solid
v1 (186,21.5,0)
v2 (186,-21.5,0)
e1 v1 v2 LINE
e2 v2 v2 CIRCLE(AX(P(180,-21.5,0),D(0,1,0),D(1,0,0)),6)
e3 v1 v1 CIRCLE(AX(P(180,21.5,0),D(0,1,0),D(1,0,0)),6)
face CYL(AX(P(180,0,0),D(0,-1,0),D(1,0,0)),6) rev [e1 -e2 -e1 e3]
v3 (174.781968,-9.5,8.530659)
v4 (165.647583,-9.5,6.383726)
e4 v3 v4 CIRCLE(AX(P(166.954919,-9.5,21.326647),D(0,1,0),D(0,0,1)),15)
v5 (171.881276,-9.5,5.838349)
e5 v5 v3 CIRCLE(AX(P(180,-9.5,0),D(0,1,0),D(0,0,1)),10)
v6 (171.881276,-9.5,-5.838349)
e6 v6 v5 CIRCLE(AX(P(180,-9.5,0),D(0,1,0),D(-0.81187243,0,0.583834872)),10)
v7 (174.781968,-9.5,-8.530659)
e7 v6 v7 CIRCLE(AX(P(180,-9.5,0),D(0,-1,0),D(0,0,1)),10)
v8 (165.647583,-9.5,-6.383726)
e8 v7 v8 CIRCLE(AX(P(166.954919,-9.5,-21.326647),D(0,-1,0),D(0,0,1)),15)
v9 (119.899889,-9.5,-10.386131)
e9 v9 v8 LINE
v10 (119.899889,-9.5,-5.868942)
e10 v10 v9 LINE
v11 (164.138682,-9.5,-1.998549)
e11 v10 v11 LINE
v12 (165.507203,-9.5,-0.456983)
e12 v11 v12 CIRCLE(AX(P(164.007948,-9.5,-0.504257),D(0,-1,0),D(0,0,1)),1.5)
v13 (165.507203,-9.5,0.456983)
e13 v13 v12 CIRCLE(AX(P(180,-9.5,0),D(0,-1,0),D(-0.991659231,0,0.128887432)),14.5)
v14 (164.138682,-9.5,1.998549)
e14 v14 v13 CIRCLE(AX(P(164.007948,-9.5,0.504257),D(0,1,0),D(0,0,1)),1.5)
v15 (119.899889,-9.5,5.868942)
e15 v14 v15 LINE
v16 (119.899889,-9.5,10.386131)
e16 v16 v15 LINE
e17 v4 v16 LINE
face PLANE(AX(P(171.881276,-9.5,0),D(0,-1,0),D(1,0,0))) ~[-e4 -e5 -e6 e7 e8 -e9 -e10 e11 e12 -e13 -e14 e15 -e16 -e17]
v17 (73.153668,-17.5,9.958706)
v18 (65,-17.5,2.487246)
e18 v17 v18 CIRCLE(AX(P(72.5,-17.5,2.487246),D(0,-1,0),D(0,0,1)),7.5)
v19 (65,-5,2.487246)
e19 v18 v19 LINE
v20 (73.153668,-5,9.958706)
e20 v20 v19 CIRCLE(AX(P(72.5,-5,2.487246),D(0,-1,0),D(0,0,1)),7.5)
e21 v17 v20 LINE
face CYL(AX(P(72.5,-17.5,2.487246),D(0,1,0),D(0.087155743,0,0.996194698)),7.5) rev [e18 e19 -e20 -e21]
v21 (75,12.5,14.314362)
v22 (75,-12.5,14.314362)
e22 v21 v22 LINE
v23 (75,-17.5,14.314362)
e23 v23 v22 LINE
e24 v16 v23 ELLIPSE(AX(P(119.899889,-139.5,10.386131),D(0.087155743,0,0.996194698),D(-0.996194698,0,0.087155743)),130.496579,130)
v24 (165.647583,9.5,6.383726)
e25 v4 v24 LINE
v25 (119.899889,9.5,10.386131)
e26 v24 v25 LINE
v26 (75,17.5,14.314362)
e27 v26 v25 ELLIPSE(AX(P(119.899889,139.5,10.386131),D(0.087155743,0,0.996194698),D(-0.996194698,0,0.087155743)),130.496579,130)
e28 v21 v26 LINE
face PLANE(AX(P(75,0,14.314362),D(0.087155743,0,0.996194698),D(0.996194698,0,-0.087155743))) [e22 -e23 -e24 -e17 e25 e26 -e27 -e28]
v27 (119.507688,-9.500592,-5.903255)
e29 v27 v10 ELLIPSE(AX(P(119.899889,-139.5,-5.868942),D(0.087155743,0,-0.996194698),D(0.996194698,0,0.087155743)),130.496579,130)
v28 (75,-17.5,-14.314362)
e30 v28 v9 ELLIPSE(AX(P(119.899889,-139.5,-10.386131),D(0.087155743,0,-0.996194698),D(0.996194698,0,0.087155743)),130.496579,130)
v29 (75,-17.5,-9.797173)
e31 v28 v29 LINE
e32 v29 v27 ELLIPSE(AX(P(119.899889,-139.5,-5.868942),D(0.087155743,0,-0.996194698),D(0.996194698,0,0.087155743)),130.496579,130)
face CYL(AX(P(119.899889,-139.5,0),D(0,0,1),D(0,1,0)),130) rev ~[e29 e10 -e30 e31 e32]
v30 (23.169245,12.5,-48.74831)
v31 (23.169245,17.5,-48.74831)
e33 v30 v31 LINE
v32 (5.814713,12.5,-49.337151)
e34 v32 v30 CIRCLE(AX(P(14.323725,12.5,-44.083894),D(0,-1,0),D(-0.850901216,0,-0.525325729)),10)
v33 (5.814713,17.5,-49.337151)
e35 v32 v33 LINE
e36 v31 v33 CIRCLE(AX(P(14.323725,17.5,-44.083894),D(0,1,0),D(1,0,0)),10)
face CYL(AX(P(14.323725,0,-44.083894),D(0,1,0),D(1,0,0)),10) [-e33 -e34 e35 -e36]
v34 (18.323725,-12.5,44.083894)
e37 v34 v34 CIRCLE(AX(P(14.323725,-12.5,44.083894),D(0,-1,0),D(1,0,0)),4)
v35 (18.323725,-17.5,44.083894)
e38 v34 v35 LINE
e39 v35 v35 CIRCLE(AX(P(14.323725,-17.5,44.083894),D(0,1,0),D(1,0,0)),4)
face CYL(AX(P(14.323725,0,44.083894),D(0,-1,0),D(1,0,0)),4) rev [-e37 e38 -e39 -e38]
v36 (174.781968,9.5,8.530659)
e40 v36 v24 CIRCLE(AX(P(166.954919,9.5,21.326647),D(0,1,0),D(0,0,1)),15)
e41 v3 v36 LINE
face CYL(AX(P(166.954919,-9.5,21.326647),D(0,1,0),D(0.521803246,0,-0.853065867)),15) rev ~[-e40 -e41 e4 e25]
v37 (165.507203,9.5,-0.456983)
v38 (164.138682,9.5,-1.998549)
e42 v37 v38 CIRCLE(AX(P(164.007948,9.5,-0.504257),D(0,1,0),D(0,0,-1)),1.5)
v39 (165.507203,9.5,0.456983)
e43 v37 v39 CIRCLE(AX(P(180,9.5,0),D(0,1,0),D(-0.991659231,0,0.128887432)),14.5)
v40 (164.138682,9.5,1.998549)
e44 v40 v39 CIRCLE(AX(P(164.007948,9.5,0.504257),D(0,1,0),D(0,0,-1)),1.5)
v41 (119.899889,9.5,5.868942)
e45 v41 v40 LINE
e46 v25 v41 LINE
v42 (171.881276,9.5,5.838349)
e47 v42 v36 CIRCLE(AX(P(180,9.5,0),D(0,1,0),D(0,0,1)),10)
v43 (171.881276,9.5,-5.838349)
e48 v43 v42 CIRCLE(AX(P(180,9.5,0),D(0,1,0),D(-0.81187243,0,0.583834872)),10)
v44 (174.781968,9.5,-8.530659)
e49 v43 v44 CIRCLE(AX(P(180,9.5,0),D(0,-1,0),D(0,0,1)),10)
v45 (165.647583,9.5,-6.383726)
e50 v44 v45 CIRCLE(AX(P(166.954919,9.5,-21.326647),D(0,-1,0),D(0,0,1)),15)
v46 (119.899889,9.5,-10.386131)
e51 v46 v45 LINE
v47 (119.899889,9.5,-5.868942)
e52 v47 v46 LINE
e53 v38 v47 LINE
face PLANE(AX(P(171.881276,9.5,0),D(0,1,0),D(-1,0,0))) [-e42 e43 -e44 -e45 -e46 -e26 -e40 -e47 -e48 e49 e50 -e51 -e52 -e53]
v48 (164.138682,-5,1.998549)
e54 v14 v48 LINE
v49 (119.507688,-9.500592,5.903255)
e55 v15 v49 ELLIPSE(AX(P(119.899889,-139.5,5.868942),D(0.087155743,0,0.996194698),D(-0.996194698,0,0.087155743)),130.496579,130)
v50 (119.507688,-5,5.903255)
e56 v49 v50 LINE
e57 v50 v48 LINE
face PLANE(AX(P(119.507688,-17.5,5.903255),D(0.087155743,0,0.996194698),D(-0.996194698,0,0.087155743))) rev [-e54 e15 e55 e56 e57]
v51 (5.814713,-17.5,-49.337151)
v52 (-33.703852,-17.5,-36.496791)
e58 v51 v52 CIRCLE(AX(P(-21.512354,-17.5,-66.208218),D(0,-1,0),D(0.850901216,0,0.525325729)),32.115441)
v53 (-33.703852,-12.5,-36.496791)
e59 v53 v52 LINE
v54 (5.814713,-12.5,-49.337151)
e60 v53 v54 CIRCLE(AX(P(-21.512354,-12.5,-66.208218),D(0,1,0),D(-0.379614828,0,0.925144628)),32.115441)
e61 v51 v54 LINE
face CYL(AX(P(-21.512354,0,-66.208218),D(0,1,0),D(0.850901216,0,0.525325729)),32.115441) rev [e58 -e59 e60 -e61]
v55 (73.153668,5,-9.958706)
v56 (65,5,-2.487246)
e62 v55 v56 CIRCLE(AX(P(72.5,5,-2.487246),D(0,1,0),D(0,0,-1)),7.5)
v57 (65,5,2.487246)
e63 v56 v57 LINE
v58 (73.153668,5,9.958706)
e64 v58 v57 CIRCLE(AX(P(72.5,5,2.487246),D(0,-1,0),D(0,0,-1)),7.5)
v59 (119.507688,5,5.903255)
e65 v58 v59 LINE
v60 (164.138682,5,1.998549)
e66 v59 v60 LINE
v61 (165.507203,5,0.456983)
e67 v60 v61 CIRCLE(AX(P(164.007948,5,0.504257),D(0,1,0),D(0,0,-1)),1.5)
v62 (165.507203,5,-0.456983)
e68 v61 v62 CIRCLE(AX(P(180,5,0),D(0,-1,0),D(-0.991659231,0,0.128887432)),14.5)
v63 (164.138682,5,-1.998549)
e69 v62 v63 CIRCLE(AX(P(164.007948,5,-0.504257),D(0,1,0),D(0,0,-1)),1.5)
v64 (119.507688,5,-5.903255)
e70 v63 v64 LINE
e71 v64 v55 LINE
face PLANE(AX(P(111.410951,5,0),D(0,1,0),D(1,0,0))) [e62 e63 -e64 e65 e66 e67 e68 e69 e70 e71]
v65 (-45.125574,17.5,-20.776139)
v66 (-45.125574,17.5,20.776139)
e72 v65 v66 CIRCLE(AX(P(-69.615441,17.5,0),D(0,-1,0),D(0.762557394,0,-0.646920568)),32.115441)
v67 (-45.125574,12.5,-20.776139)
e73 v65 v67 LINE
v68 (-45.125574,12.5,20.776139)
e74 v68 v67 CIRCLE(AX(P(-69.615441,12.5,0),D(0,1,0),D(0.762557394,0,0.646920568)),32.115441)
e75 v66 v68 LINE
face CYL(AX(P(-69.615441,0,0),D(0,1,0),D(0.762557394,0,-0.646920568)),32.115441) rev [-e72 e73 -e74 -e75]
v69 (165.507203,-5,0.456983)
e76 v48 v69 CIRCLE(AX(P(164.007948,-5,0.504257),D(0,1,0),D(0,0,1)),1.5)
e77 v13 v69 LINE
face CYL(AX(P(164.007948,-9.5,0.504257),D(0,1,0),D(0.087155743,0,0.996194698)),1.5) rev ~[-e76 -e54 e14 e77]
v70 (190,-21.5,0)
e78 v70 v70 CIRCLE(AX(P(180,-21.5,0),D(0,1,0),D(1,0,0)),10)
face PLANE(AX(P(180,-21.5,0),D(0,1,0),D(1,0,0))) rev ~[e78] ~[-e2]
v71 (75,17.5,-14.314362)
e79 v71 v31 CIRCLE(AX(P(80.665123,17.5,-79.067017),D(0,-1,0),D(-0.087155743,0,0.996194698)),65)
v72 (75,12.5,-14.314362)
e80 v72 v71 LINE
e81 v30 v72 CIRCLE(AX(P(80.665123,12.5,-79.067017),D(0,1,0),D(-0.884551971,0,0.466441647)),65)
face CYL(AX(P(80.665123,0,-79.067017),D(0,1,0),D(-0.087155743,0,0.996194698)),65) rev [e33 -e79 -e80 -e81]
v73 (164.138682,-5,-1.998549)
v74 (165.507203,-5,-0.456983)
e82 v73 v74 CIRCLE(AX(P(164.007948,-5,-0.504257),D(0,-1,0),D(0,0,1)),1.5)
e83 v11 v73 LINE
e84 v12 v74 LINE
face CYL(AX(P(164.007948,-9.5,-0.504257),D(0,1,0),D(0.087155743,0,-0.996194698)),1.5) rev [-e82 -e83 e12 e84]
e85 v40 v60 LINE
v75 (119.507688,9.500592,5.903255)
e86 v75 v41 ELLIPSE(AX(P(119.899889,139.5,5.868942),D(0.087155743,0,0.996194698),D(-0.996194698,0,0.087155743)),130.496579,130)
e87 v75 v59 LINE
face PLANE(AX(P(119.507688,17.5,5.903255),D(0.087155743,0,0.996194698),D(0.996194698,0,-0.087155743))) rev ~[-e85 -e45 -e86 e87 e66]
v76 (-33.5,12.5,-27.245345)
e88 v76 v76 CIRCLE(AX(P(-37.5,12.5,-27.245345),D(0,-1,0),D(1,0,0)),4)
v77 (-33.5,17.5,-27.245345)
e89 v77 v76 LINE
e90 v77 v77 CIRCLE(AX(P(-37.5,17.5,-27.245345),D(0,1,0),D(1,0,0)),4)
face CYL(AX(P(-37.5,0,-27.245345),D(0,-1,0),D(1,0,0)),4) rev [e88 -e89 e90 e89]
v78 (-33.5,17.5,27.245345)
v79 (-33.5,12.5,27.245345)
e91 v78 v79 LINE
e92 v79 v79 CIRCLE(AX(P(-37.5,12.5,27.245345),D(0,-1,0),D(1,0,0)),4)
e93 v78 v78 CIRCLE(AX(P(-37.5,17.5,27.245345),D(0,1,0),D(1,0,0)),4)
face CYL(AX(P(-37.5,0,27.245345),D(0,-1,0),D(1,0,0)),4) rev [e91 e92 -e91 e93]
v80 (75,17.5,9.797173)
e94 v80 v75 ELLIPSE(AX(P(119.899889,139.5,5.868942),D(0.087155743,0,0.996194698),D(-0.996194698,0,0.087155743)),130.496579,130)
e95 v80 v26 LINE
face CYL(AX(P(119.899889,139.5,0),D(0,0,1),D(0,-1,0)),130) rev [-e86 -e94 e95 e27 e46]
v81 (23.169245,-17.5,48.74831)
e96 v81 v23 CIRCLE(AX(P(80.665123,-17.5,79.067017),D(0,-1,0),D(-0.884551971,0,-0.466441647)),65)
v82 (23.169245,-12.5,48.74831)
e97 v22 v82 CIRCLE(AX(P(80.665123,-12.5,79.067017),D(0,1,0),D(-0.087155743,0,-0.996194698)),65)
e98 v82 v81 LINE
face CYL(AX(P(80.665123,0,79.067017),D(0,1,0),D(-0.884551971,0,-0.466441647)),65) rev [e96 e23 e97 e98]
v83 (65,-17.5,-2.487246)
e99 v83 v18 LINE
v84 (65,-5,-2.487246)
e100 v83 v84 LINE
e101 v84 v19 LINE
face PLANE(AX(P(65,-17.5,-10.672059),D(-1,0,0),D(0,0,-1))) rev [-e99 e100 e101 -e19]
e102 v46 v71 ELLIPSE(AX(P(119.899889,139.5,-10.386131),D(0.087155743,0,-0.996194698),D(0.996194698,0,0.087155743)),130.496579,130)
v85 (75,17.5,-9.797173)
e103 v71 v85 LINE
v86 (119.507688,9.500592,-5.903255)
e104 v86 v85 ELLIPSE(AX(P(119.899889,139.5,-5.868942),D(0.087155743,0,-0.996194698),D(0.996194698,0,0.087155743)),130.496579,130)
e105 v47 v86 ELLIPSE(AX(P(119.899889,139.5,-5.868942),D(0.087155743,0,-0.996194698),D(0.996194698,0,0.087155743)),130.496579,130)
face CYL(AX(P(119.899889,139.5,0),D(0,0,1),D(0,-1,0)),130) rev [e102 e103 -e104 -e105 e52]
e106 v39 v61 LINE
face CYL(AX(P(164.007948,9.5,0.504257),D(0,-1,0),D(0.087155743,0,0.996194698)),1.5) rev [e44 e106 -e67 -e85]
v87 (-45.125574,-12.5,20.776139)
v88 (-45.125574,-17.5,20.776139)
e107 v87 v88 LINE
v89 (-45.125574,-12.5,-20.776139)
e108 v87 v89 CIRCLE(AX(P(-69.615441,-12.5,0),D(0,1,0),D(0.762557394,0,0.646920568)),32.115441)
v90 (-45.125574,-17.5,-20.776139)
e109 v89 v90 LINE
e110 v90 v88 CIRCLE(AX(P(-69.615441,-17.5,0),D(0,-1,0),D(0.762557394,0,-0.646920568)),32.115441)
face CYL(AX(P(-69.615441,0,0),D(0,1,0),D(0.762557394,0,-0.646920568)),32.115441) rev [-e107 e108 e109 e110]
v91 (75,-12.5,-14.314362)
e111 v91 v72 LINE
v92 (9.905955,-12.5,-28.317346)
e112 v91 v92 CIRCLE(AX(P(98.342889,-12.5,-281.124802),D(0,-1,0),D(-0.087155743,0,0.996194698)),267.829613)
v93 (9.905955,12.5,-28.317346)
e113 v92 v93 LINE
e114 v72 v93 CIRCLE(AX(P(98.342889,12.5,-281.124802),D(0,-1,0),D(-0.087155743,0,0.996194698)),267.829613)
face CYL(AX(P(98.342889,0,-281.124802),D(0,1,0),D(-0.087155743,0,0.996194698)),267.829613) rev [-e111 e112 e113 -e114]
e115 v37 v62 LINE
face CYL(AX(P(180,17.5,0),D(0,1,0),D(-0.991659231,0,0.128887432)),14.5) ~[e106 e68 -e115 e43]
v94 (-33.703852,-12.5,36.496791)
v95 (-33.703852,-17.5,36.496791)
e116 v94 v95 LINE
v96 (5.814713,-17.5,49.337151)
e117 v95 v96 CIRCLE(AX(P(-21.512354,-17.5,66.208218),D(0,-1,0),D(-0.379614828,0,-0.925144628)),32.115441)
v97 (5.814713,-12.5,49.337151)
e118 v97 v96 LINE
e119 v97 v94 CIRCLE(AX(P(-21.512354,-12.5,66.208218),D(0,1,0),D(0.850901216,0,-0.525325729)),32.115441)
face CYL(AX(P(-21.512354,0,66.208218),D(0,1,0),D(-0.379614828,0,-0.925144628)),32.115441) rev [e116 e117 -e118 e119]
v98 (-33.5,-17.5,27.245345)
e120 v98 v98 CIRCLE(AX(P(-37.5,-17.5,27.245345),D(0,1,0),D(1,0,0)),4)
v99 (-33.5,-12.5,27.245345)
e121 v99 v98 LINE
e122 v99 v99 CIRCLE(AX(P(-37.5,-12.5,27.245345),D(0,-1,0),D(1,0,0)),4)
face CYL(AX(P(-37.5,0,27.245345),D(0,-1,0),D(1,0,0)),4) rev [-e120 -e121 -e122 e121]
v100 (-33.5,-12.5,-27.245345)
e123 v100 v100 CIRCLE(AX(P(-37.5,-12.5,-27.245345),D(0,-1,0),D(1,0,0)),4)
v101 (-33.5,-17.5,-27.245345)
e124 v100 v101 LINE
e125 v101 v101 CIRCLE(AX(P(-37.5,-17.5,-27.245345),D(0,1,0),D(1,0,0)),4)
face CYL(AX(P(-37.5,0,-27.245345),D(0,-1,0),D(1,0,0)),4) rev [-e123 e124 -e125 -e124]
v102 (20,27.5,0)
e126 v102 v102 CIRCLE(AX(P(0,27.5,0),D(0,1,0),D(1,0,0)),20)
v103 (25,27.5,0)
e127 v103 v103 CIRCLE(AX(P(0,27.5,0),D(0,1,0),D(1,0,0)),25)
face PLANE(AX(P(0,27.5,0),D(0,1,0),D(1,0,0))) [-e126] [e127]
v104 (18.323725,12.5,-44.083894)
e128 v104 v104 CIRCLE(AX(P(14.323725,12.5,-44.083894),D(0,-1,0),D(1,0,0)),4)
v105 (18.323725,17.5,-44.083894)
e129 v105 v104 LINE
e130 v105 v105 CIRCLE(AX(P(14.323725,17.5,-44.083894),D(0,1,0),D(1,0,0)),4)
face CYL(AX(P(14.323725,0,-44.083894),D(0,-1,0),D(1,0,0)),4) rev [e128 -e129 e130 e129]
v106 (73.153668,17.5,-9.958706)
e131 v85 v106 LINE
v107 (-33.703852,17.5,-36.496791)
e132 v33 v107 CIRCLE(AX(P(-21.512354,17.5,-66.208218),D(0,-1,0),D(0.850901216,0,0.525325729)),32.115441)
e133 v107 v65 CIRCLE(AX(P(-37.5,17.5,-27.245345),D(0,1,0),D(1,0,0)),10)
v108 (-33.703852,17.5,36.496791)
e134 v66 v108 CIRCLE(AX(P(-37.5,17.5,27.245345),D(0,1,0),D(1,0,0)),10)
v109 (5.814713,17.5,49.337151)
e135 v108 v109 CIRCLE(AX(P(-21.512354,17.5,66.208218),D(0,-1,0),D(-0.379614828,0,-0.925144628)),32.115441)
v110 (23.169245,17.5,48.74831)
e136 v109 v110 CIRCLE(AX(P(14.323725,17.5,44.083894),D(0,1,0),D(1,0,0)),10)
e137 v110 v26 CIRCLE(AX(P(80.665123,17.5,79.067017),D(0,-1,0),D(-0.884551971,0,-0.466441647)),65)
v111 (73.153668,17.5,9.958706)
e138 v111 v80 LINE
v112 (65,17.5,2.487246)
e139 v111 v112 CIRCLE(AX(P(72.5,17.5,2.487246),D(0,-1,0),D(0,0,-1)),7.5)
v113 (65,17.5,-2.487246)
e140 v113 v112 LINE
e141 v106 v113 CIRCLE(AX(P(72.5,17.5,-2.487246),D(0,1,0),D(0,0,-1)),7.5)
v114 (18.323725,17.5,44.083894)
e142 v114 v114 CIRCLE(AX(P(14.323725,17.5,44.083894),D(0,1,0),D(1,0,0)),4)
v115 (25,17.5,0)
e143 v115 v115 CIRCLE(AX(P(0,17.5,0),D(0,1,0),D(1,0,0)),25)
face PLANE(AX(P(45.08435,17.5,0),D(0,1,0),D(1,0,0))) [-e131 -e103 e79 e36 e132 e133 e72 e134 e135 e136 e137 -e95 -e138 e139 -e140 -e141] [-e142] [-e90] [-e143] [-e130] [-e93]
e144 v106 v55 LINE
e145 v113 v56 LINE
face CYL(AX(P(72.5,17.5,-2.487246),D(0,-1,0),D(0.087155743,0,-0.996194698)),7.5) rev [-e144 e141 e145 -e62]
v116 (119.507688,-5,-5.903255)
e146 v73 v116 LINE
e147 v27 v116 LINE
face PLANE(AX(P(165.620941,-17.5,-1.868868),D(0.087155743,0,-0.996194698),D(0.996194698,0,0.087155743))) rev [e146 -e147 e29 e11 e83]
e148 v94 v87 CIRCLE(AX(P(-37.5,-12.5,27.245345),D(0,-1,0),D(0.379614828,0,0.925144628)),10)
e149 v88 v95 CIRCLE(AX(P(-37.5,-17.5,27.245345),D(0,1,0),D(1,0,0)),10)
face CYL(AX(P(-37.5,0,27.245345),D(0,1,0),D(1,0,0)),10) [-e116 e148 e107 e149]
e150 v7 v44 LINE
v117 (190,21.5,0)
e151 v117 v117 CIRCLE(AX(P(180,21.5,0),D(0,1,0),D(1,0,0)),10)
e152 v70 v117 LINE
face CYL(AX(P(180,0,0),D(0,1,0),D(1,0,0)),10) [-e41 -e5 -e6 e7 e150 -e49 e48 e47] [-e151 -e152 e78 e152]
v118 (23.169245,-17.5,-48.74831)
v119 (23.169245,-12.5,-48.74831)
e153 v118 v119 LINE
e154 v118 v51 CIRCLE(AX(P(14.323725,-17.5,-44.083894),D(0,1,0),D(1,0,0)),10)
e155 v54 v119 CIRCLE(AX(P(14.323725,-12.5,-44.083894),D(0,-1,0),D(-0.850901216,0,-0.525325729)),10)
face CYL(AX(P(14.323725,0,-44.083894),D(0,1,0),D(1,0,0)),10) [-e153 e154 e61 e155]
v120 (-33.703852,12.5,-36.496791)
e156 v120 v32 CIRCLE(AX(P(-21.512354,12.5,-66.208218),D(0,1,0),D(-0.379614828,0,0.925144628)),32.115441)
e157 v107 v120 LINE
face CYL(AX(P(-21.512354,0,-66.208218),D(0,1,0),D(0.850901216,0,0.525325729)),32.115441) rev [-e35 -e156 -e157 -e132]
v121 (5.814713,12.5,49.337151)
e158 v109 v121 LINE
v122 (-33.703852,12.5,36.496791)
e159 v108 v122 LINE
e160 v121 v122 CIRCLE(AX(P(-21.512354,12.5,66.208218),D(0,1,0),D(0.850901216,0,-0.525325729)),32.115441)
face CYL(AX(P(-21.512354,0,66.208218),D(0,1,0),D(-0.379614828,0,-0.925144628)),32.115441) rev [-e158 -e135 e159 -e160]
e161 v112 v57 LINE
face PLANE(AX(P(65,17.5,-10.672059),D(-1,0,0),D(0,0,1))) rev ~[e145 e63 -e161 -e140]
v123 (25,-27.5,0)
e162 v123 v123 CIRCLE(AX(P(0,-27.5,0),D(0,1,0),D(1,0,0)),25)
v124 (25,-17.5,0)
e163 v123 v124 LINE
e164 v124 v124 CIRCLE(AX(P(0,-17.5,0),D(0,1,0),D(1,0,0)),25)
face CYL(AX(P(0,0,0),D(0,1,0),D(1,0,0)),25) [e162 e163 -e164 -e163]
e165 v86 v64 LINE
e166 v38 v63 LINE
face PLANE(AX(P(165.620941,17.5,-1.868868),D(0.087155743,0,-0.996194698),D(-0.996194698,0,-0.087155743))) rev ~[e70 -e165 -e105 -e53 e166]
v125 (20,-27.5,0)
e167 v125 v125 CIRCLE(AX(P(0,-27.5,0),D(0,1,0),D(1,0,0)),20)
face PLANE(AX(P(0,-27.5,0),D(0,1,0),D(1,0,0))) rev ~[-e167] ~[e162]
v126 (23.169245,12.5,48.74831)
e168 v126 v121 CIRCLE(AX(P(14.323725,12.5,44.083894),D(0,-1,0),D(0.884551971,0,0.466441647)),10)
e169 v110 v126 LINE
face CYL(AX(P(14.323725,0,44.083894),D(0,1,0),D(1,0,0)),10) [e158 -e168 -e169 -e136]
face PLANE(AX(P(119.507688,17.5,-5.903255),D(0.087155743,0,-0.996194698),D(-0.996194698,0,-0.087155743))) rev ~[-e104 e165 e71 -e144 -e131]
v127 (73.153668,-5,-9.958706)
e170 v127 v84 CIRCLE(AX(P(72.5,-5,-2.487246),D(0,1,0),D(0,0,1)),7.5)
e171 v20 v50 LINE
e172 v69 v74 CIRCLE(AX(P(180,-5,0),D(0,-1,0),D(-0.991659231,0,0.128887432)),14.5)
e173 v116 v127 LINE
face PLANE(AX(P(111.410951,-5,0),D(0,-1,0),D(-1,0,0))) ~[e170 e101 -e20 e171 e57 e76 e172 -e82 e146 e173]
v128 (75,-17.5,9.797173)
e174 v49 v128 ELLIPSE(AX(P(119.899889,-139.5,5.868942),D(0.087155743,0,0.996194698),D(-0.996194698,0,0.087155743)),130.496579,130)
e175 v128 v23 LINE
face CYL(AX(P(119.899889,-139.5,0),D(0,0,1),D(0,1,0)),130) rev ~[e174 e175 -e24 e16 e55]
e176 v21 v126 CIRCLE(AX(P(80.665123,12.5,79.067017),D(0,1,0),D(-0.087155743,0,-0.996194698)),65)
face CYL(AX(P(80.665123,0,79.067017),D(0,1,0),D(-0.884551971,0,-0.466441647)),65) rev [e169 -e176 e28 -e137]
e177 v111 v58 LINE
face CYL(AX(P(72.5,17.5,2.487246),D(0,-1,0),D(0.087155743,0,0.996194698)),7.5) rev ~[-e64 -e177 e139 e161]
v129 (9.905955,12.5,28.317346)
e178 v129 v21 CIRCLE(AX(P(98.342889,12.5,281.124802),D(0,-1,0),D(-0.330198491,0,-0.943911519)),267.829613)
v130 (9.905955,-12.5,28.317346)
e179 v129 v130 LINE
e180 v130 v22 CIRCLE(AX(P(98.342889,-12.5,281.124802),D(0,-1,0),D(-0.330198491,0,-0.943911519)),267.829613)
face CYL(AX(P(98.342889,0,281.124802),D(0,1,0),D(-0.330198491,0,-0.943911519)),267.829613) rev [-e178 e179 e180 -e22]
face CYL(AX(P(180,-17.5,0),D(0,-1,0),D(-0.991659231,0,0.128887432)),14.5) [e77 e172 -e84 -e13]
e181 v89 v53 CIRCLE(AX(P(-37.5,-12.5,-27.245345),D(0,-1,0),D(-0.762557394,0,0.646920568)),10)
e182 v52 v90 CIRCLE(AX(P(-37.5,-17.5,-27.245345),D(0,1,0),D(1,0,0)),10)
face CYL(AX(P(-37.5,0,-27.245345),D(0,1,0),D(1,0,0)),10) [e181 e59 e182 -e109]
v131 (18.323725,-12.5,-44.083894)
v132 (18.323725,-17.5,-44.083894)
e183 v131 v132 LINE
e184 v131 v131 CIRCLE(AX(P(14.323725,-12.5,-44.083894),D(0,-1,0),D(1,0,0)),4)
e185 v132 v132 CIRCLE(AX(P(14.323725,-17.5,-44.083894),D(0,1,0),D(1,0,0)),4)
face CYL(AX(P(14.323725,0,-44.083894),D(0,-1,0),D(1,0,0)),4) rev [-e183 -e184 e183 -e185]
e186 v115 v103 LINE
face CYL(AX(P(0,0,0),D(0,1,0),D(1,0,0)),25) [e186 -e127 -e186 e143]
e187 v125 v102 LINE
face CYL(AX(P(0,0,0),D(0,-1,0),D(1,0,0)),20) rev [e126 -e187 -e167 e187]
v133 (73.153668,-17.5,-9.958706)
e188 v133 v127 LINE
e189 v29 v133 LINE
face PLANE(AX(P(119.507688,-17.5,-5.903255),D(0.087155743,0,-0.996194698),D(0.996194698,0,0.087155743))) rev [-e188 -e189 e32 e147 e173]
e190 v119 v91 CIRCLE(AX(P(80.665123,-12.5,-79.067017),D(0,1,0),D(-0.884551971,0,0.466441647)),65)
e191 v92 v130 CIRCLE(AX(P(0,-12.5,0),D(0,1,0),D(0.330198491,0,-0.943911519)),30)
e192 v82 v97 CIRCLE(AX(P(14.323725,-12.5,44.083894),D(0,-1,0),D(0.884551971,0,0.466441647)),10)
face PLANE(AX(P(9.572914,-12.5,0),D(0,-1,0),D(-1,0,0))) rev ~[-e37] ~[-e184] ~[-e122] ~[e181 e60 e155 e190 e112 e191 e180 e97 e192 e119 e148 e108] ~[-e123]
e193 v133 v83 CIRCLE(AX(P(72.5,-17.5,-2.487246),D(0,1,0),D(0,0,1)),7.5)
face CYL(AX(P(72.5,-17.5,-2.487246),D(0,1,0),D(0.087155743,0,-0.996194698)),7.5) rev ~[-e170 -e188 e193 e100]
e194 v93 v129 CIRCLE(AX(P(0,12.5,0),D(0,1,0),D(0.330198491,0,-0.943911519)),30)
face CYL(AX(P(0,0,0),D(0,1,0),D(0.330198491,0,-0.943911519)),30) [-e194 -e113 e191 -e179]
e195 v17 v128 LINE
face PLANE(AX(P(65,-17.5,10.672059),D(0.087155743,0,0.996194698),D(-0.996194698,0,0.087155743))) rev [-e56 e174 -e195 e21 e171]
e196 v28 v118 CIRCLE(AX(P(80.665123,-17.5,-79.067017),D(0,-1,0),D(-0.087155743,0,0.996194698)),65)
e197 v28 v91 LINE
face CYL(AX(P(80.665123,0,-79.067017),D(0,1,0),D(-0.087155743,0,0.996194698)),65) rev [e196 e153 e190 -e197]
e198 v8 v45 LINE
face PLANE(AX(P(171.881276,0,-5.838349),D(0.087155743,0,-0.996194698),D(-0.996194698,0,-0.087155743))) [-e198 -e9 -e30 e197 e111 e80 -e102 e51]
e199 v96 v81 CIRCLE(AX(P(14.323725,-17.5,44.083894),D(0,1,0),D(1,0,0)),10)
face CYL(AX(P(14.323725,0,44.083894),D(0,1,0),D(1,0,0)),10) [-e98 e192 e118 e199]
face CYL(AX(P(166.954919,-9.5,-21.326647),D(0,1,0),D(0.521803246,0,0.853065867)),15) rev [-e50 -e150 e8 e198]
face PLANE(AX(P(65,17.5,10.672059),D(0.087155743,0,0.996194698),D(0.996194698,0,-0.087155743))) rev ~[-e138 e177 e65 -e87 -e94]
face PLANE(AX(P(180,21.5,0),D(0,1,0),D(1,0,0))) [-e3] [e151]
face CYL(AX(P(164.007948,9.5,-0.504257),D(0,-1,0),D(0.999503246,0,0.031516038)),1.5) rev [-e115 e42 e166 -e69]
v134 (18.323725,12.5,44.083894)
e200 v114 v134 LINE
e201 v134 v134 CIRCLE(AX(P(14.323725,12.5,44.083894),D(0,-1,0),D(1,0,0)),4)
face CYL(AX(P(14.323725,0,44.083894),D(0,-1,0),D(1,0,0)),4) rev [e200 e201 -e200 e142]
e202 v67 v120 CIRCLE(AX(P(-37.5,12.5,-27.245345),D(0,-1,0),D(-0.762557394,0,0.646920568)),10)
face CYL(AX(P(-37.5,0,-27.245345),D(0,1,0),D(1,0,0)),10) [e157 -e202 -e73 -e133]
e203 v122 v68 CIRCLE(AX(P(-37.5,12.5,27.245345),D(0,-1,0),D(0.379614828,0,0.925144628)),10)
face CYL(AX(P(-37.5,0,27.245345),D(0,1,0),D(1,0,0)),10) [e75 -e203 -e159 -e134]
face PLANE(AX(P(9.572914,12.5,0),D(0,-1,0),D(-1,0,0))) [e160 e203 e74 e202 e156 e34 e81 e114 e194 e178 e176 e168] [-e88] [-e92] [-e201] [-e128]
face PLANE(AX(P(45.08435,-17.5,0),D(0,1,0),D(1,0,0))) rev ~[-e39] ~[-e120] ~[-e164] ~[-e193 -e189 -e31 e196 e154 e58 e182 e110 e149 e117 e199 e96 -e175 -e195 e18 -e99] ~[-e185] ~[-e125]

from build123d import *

# Parameters (mm, degrees)
SKETCH1_R           = 25
SKETCH1_R_2         = 10
SKETCH1_R_3         = 4
SKETCH1_R_4         = 20
BOSS_EXTRUDE1_DEPTH = 17.5
SKETCH1_4_R         = 25
SKETCH1_4_R_2       = 20
BOSS_EXTRUDE2_DEPTH = 27.5
SKETCH2_R           = 20
CUT_EXTRUDE1_DEPTH  = 12.5
CUT_EXTRUDE2_DEPTH  = 55.083893922
SKETCH1_5_R         = 10
SKETCH1_5_R_2       = 6
BOSS_EXTRUDE3_DEPTH = 21.5
FILLET3_R           = 15
CUT_EXTRUDE3_DEPTH  = 12.5
FILLET1_R           = 7.5
FILLET2_R           = 1.5


with BuildPart() as part:
    # Sketch1 → Boss-Extrude1 (new body, symmetric)
    with BuildSketch(Plane(origin=(0, 0, 0), x_dir=(1, 0, 0), z_dir=(0, 1, 0))):
        with BuildLine():
            ThreePointArc((23.169245136, -48.74831039), (44.696355929, -24.926018406), (75, -14.314362055))
            Line((75, -14.314362055), (171.881275704, -5.838348723))
            ThreePointArc((171.881275704, -5.838348723), (170, 0), (171.881275704, 5.838348723))
            Line((171.881275704, 5.838348723), (75, 14.314362055))
            ThreePointArc((75, 14.314362055), (44.696355929, 24.926018406), (23.169245136, 48.74831039))
            ThreePointArc((23.169245136, 48.74831039), (24.030815541, 46.486476164), (24.323725422, 44.083893922))
            ThreePointArc((24.323725422, 44.083893922), (11.593351964, 34.463859578), (5.814713266, 49.337151209))
            ThreePointArc((5.814713266, 49.337151209), (-11.588137289, 35.664619361), (-33.70385172, 36.496791078))
            ThreePointArc((-33.70385172, 36.496791078), (-29.194535449, 32.814838368), (-27.5, 27.2453448))
            ThreePointArc((-27.5, 27.2453448), (-34.054404214, 17.857700278), (-45.125573936, 20.776139119))
            ThreePointArc((-45.125573936, 20.776139119), (-37.5, 0), (-45.125573936, -20.776139119))
            ThreePointArc((-45.125573936, -20.776139119), (-34.054404214, -17.857700278), (-27.5, -27.2453448))
            ThreePointArc((-27.5, -27.2453448), (-29.194535449, -32.814838368), (-33.70385172, -36.496791078))
            ThreePointArc((-33.70385172, -36.496791078), (-11.588137289, -35.664619361), (5.814713266, -49.337151209))
            ThreePointArc((5.814713266, -49.337151209), (11.593351964, -34.463859578), (24.323725422, -44.083893922))
            ThreePointArc((24.323725422, -44.083893922), (24.030815541, -46.486476164), (23.169245136, -48.74831039))
        make_face()
        Circle(SKETCH1_R, mode=Mode.SUBTRACT)
        with Locations((14.323725422, 44.083893922)):
            Circle(SKETCH1_R_2)
        with Locations((14.323725422, 44.083893922)):
            Circle(SKETCH1_R_3, mode=Mode.SUBTRACT)
        with Locations((-37.5, 27.2453448)):
            Circle(SKETCH1_R_2)
        with Locations((-37.5, 27.2453448)):
            Circle(SKETCH1_R_3, mode=Mode.SUBTRACT)
        with Locations((-37.5, -27.2453448)):
            Circle(SKETCH1_R_2)
        with Locations((-37.5, -27.2453448)):
            Circle(SKETCH1_R_3, mode=Mode.SUBTRACT)
        with Locations((14.323725422, -44.083893922)):
            Circle(SKETCH1_R_2)
        with Locations((14.323725422, -44.083893922)):
            Circle(SKETCH1_R_3, mode=Mode.SUBTRACT)
        Circle(SKETCH1_R)
        Circle(SKETCH1_R_4, mode=Mode.SUBTRACT)
    extrude(amount=BOSS_EXTRUDE1_DEPTH, both=True)

    # Sketch1_4 → Boss-Extrude2 (add, symmetric)
    with BuildSketch(Plane(origin=(0, 0, 0), x_dir=(1, 0, 0), z_dir=(0, 1, 0))):
        Circle(SKETCH1_4_R)
        Circle(SKETCH1_4_R_2, mode=Mode.SUBTRACT)
    extrude(amount=BOSS_EXTRUDE2_DEPTH, both=True)

    # Sketch2 → Cut-Extrude1 (cut, symmetric)
    with BuildSketch(Plane(origin=(0, 0, 0), x_dir=(1, 0, 0), z_dir=(0, 1, 0))):
        Circle(SKETCH2_R)
        with BuildLine():
            ThreePointArc((9.905954739, 28.31734558), (-30, 0), (9.905954739, -28.31734558))
            ThreePointArc((9.905954739, -28.31734558), (42.01613595, -19.285159783), (75, -14.314362055))
            ThreePointArc((75, -14.314362055), (44.696355929, -24.926018406), (23.169245136, -48.74831039))
            ThreePointArc((23.169245136, -48.74831039), (14.662831175, -54.078142632), (5.814713266, -49.337151209))
            ThreePointArc((5.814713266, -49.337151209), (-11.588137289, -35.664619361), (-33.70385172, -36.496791078))
            ThreePointArc((-33.70385172, -36.496791078), (-45.590169944, -33.123197323), (-45.125573936, -20.776139119))
            ThreePointArc((-45.125573936, -20.776139119), (-37.5, 0), (-45.125573936, 20.776139119))
            ThreePointArc((-45.125573936, 20.776139119), (-45.590169944, 33.123197323), (-33.70385172, 36.496791078))
            ThreePointArc((-33.70385172, 36.496791078), (-11.588137289, 35.664619361), (5.814713266, 49.337151209))
            ThreePointArc((5.814713266, 49.337151209), (14.662831175, 54.078142632), (23.169245136, 48.74831039))
            ThreePointArc((23.169245136, 48.74831039), (44.696355929, 24.926018406), (75, 14.314362055))
            ThreePointArc((75, 14.314362055), (42.01613595, 19.285159783), (9.905954739, 28.31734558))
        make_face()
    extrude(amount=CUT_EXTRUDE1_DEPTH, both=True, mode=Mode.SUBTRACT)

    # Sketch3 → Cut-Extrude2 (cut, symmetric)
    with BuildSketch(Plane.XY):
        with BuildLine():
            Line((171.881275704, 17.5), (171.881275704, 9.5))
            Line((171.881275704, 9.5), (119.899888641, 9.5))
            ThreePointArc((119.899888641, 9.5), (97.096380139, 11.515625954), (75, 17.5))
            Line((75, 17.5), (119.899888641, 17.5))
            Line((119.899888641, 17.5), (171.881275704, 17.5))
        make_face()
    cut_extrude2 = extrude(amount=CUT_EXTRUDE2_DEPTH, both=True, mode=Mode.SUBTRACT)

    # Mirror1: Cut-Extrude2 across plane
    add(cut_extrude2.mirror(Plane.ZX), mode=Mode.SUBTRACT)

    # Sketch1_5 → Boss-Extrude3 (add, symmetric)
    with BuildSketch(Plane(origin=(0, 0, 0), x_dir=(1, 0, 0), z_dir=(0, 1, 0))):
        with Locations((180, 0)):
            Circle(SKETCH1_5_R)
        with Locations((180, 0)):
            Circle(SKETCH1_5_R_2, mode=Mode.SUBTRACT)
    extrude(amount=BOSS_EXTRUDE3_DEPTH, both=True)

    # Fillet3
    fillet3_edges = [part.edges().sort_by_distance(p)[0] for p in [
        (171.881275704, 0, -5.838348723),
        (171.881275704, 0, 5.838348723),
    ]]
    fillet(fillet3_edges, radius=FILLET3_R)

    # Sketch4 → Cut-Extrude3 (cut)
    with BuildSketch(Plane(origin=(0, 17.5, 0), x_dir=(1, 0, 0), z_dir=(0, 1, 0))):
        with BuildLine():
            Line((65, 10.672059421), (65, -10.672059421))
            Line((65, -10.672059421), (119.507687799, -5.903254663))
            Line((119.507687799, -5.903254663), (165.620941154, -1.868867757))
            ThreePointArc((165.620941154, -1.868867757), (165.5, 0), (165.620941154, 1.868867757))
            Line((165.620941154, 1.868867757), (119.507687799, 5.903254663))
            Line((119.507687799, 5.903254663), (65, 10.672059421))
        make_face()
    cut_extrude3 = extrude(amount=-CUT_EXTRUDE3_DEPTH, mode=Mode.SUBTRACT)

    # Mirror2: Cut-Extrude3 across plane
    add(cut_extrude3.mirror(Plane.ZX), mode=Mode.SUBTRACT)

    # Fillet1
    fillet1_edges = [part.edges().sort_by_distance(p)[0] for p in [
        (65, 11.25, -10.672059421),
        (65, 11.25, 10.672059421),
        (65, -11.25, -10.672059421),
        (65, -11.25, 10.672059421),
    ]]
    fillet(fillet1_edges, radius=FILLET1_R)

    # Fillet2
    fillet2_edges = [part.edges().sort_by_distance(p)[0] for p in [
        (165.620941154, 7.25, -1.868867757),
        (165.620941154, 7.25, 1.868867757),
        (165.620941154, -7.25, 1.868867757),
        (165.620941154, -7.25, -1.868867757),
    ]]
    fillet(fillet2_edges, radius=FILLET2_R)


solid = part.part
